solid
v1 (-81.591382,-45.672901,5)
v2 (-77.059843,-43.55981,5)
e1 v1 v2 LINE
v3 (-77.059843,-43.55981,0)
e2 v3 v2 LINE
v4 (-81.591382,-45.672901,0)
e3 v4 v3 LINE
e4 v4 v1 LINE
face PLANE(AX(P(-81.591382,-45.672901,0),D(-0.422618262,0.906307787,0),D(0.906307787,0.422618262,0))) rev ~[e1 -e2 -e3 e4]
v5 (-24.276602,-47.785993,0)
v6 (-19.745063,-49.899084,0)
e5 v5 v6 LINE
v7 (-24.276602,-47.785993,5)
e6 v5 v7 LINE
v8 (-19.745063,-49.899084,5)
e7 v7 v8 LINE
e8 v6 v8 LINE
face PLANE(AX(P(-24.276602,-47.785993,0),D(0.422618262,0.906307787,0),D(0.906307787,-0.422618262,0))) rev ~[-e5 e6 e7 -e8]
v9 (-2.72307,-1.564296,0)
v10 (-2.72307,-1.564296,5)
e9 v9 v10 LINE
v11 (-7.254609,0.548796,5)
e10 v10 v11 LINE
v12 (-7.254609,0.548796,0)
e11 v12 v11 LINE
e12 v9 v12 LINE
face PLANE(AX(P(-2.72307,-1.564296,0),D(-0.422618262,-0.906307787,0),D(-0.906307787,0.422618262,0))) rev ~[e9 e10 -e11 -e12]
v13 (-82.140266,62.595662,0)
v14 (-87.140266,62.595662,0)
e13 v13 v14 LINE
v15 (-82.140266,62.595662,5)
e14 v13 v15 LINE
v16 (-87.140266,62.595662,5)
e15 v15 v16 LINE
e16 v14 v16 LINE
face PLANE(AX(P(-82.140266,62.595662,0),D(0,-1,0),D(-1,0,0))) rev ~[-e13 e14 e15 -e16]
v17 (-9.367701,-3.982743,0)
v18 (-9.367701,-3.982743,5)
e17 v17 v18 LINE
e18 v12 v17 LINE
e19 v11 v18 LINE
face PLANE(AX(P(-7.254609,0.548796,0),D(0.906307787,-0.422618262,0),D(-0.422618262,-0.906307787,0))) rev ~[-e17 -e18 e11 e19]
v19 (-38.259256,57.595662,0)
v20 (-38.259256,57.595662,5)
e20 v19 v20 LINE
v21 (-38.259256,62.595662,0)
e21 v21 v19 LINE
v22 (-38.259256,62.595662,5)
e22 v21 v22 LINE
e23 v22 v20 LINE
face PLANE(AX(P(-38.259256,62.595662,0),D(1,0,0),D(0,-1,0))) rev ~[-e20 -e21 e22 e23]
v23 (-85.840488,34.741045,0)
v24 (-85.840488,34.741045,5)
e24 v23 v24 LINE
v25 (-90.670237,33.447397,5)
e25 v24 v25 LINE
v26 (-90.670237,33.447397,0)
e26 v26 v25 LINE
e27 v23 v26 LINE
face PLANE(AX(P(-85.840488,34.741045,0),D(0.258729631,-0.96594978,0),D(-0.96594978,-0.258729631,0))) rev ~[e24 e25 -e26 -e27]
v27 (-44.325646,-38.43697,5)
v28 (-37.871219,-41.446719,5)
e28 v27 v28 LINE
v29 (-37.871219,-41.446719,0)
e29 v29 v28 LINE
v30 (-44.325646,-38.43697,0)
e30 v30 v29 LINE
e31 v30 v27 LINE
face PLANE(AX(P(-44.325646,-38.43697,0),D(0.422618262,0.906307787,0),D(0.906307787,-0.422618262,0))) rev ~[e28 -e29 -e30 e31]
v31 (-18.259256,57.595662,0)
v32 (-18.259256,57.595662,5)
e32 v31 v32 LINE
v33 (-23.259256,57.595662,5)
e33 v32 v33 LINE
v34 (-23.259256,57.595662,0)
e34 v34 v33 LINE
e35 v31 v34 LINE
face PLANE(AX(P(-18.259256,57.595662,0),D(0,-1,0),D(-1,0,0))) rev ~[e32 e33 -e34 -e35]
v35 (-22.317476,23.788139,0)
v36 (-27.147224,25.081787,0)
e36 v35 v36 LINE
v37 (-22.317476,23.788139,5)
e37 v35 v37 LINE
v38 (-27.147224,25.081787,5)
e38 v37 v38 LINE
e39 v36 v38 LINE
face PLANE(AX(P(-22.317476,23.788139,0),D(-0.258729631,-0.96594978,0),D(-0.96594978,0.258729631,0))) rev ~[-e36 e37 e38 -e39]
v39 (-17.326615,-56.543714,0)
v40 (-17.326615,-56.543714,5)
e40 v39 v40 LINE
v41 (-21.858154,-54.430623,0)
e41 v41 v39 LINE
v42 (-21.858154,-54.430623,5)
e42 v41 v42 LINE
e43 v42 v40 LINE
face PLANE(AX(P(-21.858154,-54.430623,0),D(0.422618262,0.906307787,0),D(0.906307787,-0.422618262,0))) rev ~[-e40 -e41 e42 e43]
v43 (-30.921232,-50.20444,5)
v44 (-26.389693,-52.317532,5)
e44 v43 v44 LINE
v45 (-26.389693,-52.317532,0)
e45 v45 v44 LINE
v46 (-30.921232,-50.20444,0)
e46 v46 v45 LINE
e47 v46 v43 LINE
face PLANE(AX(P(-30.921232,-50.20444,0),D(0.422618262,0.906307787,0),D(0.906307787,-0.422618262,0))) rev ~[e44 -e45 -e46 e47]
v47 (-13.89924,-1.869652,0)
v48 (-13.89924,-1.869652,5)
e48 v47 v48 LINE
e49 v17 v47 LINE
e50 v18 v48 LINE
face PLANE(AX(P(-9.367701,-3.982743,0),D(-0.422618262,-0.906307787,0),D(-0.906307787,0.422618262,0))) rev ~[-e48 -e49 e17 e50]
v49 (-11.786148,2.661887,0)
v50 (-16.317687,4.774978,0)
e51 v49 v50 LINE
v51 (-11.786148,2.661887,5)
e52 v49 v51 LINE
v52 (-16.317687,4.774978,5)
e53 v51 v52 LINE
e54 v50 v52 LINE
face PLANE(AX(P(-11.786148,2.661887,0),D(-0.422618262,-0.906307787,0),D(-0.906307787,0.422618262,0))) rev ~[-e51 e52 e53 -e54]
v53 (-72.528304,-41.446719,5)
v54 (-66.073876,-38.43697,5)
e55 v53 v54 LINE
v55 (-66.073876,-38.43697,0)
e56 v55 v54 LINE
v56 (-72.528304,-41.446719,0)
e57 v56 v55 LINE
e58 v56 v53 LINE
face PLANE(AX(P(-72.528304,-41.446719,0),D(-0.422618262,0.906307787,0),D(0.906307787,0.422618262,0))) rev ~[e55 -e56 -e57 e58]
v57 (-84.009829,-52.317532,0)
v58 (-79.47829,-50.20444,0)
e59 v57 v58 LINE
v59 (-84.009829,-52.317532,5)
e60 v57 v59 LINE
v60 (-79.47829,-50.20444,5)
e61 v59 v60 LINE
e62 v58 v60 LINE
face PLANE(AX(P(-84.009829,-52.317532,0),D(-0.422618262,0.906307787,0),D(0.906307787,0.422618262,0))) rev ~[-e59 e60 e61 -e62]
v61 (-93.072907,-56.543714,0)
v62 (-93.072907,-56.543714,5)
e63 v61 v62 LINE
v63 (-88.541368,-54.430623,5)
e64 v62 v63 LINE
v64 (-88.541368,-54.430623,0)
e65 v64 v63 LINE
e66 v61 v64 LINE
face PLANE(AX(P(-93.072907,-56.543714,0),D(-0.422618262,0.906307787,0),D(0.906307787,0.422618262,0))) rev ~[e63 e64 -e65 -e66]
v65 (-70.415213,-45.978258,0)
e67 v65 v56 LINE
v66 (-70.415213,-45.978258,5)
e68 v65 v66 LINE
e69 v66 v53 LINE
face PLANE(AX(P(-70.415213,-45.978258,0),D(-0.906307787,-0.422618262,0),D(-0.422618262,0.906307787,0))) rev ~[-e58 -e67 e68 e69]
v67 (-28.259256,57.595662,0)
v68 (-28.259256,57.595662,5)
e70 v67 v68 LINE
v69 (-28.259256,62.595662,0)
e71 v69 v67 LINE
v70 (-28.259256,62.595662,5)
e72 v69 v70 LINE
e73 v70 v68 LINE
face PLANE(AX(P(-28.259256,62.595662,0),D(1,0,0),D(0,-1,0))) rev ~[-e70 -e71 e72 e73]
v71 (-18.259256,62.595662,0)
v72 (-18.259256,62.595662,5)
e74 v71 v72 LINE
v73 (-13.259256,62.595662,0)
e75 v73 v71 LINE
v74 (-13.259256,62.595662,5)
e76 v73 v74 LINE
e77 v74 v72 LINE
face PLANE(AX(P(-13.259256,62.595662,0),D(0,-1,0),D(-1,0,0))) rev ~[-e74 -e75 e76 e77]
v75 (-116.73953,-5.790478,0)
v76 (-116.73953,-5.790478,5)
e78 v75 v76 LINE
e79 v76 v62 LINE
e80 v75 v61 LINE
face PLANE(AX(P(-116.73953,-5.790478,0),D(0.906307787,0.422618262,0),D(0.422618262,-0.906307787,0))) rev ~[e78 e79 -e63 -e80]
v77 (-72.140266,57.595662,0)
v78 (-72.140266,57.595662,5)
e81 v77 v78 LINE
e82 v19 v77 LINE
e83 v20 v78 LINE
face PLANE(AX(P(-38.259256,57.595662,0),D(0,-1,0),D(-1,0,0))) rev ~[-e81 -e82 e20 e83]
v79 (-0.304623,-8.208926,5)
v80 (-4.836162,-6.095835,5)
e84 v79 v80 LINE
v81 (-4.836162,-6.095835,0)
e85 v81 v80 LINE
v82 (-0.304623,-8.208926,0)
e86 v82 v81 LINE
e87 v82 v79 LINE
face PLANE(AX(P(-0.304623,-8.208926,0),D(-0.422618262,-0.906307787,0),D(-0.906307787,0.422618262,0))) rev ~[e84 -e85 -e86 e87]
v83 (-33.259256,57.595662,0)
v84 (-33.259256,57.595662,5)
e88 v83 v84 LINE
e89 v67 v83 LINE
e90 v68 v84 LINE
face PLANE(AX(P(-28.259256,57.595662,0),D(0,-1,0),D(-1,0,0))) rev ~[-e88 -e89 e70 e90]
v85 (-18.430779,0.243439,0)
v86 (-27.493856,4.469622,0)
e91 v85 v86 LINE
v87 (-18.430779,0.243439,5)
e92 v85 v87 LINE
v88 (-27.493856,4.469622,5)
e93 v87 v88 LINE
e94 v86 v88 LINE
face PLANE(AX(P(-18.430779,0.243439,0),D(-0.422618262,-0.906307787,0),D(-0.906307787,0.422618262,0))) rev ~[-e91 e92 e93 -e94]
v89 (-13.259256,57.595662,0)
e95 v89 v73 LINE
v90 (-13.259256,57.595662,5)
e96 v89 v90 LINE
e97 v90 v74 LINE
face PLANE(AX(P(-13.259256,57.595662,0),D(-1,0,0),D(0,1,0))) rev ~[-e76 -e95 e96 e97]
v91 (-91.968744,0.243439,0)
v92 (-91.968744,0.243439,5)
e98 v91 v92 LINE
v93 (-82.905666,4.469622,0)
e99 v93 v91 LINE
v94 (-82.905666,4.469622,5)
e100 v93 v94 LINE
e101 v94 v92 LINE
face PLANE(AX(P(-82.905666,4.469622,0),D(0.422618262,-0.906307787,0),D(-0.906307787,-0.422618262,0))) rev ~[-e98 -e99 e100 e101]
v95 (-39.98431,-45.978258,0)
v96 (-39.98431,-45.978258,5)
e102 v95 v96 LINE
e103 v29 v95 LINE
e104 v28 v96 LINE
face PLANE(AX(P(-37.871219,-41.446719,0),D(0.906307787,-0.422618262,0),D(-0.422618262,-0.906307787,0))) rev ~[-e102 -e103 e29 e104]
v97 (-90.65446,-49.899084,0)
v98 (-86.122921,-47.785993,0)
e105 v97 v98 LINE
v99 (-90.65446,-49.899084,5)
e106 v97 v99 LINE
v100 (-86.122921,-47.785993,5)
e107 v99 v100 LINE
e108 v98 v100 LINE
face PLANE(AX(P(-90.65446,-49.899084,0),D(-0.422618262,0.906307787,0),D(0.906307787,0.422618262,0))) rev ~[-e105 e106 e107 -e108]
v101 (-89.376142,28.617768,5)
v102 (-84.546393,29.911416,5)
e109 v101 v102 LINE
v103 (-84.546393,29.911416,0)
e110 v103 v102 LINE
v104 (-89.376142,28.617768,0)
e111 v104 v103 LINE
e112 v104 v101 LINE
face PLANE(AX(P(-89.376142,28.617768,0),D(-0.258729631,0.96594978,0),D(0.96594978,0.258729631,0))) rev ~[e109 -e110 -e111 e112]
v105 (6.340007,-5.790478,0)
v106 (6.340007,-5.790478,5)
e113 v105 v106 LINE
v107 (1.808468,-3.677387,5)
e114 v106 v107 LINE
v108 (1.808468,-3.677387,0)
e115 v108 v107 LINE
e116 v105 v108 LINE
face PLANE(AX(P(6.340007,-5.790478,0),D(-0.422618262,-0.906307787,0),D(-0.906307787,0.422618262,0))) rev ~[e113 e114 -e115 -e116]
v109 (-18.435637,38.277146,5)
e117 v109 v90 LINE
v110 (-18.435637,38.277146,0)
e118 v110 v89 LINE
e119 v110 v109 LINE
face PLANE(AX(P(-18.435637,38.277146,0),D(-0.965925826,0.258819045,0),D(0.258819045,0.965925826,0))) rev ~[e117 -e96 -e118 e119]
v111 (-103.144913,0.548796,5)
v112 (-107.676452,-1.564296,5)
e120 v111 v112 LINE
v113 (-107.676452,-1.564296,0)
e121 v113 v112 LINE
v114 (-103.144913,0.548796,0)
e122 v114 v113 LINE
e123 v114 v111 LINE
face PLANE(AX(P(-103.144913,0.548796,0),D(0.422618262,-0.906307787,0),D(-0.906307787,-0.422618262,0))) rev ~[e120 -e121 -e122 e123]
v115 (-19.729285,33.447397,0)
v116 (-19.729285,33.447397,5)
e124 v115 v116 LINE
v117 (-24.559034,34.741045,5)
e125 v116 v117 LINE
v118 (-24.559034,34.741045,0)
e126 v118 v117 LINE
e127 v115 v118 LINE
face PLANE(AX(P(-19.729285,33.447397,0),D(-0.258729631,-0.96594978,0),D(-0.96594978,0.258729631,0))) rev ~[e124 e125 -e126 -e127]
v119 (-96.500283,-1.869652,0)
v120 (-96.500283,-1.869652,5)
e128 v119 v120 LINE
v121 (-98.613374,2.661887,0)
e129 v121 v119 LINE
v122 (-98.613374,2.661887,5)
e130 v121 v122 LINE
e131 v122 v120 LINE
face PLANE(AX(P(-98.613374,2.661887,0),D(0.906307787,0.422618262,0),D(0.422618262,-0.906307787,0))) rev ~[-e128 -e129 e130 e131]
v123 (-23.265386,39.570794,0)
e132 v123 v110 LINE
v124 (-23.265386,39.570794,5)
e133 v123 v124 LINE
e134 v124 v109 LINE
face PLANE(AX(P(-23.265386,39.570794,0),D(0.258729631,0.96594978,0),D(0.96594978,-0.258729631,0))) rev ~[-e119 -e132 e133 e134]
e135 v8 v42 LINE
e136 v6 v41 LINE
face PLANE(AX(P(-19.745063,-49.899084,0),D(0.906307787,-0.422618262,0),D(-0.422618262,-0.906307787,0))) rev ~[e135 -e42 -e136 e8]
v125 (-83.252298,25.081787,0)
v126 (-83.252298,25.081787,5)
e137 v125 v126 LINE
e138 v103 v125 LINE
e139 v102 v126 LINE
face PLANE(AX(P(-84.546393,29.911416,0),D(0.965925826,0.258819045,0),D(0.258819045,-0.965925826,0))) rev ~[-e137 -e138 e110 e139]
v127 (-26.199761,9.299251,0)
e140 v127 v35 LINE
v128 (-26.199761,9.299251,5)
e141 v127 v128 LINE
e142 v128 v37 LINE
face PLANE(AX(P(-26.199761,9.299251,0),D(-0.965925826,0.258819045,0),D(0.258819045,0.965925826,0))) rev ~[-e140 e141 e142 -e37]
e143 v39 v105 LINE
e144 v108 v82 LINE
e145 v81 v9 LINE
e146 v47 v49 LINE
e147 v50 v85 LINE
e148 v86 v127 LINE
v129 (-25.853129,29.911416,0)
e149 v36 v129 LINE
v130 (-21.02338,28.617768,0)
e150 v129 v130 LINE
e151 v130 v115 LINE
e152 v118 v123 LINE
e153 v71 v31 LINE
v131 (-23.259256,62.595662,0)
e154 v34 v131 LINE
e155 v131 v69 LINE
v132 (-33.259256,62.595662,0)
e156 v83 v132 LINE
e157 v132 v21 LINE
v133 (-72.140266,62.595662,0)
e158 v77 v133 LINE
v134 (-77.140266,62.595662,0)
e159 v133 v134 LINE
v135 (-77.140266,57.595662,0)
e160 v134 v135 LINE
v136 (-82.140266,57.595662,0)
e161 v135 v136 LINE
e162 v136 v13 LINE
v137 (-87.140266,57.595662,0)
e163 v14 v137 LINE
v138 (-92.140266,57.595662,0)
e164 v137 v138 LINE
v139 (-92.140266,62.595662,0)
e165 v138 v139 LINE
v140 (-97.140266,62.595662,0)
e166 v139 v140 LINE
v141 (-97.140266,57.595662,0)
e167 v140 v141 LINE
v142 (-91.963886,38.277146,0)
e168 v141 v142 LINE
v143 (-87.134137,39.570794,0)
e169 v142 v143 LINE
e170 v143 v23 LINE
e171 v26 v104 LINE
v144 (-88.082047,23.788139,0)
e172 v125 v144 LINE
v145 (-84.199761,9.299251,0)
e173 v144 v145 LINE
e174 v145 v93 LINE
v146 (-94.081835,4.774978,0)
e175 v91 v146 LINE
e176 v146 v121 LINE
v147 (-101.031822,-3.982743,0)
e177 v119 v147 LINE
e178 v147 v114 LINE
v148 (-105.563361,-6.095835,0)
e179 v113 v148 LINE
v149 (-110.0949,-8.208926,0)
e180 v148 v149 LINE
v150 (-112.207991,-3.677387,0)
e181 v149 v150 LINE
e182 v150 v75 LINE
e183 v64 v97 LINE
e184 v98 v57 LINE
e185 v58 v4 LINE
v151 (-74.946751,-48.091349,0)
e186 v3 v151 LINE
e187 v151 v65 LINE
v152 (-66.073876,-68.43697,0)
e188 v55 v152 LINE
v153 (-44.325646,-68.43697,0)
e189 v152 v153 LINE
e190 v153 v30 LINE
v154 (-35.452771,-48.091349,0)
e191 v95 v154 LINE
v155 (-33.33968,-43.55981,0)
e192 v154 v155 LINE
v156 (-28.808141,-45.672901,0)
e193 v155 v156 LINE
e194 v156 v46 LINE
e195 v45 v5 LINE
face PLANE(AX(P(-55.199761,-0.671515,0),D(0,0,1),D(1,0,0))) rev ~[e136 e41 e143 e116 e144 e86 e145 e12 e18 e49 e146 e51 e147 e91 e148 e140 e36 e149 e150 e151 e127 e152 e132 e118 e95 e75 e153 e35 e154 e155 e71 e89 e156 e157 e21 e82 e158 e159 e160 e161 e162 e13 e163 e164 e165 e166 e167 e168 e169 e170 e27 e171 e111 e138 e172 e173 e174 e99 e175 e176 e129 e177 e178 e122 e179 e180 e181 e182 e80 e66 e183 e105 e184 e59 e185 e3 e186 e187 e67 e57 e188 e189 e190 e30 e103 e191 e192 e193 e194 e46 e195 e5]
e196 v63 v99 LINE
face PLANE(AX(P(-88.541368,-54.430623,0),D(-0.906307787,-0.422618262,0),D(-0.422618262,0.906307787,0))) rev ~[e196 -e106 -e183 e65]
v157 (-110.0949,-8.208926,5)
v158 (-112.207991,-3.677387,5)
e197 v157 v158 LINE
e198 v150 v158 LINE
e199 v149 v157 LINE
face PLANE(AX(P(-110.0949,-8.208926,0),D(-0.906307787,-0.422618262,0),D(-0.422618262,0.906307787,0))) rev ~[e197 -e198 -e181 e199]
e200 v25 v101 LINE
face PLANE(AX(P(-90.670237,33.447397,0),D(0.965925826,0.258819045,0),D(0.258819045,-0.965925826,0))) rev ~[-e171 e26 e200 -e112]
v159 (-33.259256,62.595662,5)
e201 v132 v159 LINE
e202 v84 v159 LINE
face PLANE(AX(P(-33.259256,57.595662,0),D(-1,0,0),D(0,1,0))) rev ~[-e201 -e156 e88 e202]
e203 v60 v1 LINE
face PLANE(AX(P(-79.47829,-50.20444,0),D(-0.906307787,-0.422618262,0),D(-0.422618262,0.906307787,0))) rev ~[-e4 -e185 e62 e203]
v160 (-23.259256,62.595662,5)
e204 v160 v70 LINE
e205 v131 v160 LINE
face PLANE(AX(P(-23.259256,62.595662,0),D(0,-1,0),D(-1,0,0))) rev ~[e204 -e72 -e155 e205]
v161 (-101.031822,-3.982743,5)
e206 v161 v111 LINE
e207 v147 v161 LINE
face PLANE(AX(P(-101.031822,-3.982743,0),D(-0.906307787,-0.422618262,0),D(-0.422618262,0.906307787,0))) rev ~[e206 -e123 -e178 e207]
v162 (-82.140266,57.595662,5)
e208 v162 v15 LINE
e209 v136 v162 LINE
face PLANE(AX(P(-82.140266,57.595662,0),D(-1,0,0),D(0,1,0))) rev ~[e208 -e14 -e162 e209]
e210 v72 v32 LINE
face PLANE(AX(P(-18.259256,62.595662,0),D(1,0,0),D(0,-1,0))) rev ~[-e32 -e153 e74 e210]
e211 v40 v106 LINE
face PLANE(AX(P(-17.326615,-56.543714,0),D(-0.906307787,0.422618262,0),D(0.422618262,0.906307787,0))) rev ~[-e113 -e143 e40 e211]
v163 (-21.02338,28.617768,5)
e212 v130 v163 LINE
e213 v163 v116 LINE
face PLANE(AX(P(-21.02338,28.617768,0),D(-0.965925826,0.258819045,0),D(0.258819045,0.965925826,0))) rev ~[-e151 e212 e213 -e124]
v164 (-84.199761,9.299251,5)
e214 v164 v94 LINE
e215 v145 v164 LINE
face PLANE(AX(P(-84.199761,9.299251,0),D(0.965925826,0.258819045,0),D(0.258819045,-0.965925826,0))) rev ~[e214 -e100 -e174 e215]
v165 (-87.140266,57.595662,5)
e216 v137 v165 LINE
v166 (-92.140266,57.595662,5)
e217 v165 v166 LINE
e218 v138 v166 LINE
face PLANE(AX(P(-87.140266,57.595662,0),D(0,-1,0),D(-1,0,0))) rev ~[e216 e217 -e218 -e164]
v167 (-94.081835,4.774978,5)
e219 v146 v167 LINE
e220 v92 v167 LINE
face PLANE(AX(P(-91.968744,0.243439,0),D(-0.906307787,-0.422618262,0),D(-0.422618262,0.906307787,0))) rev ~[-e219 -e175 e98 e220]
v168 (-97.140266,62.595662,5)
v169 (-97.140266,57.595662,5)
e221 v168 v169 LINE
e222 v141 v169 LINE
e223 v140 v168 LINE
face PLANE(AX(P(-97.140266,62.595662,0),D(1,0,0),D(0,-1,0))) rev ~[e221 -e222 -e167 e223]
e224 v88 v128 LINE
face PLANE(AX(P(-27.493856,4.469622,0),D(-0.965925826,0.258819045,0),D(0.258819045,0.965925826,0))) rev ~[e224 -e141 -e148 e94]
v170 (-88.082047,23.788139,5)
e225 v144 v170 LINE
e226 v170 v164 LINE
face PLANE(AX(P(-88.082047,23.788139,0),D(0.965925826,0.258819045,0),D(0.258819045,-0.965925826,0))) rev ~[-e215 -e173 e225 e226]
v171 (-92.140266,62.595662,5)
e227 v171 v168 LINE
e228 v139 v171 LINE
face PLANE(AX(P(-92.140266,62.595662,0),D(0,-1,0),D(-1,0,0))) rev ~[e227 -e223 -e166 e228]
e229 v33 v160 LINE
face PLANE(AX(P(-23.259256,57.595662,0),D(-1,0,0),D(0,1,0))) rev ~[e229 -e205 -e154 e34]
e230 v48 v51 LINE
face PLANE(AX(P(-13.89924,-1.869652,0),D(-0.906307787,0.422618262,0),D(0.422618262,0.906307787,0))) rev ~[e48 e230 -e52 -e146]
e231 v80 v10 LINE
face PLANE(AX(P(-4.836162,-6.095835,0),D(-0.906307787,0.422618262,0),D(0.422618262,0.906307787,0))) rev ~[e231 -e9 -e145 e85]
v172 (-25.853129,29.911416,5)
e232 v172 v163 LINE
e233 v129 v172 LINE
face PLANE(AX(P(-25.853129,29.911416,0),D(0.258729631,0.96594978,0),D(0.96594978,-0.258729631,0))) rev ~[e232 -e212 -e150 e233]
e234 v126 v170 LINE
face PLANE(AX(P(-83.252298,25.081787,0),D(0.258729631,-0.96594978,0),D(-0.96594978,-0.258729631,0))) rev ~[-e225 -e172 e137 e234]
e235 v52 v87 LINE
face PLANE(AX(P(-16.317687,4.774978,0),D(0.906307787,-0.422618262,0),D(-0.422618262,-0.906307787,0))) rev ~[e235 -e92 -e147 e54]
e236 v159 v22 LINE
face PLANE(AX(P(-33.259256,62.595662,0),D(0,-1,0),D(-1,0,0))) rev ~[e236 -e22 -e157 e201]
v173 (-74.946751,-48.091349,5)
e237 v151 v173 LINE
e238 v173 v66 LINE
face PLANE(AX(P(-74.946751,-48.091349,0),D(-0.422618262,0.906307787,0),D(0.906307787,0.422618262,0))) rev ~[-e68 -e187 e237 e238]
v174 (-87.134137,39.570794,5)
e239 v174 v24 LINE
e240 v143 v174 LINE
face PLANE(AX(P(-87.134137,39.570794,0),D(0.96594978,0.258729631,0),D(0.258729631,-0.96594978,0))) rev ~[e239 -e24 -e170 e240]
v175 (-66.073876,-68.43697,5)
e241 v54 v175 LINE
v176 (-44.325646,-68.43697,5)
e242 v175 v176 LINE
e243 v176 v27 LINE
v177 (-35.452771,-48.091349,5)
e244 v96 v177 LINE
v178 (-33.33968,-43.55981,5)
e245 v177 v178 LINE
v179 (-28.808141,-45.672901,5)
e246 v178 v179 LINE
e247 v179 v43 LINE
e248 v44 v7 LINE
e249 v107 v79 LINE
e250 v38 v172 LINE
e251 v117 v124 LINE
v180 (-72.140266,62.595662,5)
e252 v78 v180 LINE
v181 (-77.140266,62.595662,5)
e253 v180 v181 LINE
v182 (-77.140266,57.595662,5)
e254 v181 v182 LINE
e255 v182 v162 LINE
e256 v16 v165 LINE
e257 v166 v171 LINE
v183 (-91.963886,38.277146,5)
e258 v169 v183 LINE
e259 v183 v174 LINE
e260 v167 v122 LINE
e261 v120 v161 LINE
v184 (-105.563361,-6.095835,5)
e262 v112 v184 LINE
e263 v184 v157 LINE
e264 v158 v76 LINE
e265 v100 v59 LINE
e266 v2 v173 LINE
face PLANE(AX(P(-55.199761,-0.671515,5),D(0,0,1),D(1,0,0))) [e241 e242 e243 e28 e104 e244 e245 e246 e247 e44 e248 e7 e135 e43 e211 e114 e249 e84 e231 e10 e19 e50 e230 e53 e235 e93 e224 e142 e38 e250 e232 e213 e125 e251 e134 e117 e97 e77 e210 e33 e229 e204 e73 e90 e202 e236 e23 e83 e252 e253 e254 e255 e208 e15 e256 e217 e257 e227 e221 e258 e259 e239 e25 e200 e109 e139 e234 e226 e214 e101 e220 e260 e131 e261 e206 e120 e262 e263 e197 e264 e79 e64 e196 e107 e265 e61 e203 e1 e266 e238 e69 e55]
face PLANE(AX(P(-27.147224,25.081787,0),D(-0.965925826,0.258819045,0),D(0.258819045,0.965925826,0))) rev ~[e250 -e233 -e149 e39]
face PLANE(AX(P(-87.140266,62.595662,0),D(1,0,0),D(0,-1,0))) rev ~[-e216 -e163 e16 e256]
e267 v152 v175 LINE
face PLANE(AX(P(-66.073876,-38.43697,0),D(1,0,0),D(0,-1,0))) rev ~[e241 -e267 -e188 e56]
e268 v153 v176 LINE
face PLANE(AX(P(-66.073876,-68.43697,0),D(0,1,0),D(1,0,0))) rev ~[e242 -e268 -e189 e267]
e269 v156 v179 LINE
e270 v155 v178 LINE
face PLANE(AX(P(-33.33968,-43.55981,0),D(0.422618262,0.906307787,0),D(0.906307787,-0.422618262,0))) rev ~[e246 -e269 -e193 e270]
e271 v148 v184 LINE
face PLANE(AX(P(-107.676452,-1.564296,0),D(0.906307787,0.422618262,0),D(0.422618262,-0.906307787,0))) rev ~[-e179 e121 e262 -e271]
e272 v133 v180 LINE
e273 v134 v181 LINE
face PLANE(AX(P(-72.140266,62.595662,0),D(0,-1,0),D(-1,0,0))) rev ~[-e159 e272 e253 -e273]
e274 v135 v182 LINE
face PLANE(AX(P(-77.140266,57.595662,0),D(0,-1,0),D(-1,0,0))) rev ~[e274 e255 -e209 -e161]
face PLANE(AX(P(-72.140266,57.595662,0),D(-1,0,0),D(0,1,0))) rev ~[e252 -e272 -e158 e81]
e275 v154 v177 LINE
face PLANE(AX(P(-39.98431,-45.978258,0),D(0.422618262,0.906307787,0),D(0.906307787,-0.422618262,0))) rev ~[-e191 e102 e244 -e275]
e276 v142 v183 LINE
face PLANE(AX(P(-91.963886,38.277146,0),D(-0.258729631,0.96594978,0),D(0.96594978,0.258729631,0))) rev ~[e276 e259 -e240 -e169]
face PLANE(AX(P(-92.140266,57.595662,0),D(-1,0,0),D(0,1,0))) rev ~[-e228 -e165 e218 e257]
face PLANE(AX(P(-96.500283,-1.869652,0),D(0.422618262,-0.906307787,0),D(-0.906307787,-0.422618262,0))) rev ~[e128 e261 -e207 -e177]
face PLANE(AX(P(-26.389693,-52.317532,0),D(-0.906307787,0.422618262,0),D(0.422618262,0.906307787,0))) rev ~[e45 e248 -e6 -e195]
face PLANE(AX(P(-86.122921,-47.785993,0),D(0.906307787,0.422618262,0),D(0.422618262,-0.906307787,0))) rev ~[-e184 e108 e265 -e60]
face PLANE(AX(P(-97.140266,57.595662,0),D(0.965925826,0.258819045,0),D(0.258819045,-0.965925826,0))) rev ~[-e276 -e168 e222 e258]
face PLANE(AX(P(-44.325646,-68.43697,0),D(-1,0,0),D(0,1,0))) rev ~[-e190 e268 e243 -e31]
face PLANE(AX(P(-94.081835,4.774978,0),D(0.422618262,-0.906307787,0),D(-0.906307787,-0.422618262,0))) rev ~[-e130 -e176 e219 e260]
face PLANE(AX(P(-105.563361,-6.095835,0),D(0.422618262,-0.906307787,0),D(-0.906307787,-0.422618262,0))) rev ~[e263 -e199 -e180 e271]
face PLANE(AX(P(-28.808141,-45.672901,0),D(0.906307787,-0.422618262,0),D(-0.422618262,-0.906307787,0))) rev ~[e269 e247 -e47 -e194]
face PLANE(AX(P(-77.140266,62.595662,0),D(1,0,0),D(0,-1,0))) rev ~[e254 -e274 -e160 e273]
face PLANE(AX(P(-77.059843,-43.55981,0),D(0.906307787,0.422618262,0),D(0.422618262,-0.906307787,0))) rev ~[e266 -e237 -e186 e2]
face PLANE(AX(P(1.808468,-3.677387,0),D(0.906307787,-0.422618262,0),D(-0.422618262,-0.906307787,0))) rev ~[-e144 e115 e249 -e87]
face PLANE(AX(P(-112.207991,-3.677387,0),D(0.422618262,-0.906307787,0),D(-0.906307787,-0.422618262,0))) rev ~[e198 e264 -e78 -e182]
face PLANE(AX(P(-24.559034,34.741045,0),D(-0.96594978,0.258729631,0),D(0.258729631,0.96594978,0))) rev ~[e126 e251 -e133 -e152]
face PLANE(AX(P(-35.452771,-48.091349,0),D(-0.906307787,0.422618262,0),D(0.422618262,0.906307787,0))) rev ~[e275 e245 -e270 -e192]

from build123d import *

# Parameters (mm, degrees)
BOSS_EXTRU_1_DEPTH = 5


with BuildPart() as part:
    # Esquisse1 → Boss.-Extru.1 (new body)
    with BuildSketch(Plane.XY):
        Polygon((-88.082046911, 23.788138558), (-84.199761229, 9.299251145), (-82.905666004, 4.469622013), (-91.968743874, 0.243439396), (-94.081835183, 4.774978331), (-98.613374118, 2.661887022), (-96.500282809, -1.869651913), (-101.031821745, -3.982743221), (-103.144913053, 0.548795714), (-107.676451989, -1.564295595), (-105.56336068, -6.09583453), (-110.094899615, -8.208925839), (-112.207990924, -3.677386904), (-116.739529859, -5.790478212), (-93.072907201, -56.543714286), (-88.541368266, -54.430622978), (-90.654459575, -49.899084043), (-86.12292064, -47.785992734), (-84.009829331, -52.317531669), (-79.478290396, -50.20444036), (-81.591381705, -45.672901425), (-77.059842769, -43.559810116), (-74.946751461, -48.091349052), (-70.415212525, -45.978257743), (-72.528303834, -41.446718808), (-66.073876495, -38.43696991), (-66.073876495, -68.43696991), (-44.325645964, -68.43696991), (-44.325645964, -38.43696991), (-37.871218625, -41.446718808), (-39.984309933, -45.978257743), (-35.452770998, -48.091349052), (-33.339679689, -43.559810116), (-28.808140754, -45.672901425), (-30.921232063, -50.20444036), (-26.389693128, -52.317531669), (-24.276601819, -47.785992734), (-19.745062884, -49.899084043), (-21.858154193, -54.430622978), (-17.326615257, -56.543714286), (6.3400074, -5.790478212), (1.808468465, -3.677386904), (-0.304622844, -8.208925839), (-4.836161779, -6.09583453), (-2.72307047, -1.564295595), (-7.254609405, 0.548795714), (-9.367700714, -3.982743221), (-13.899239649, -1.869651913), (-11.786148341, 2.661887022), (-16.317687276, 4.774978331), (-18.430778585, 0.243439396), (-27.493856455, 4.469622013), (-26.199761229, 9.299251145), (-22.317475548, 23.788138558), (-27.147224449, 25.081786714), (-25.853129223, 29.911415845), (-21.023380322, 28.617767689), (-19.729285097, 33.447396821), (-24.559033998, 34.741044977), (-23.265385842, 39.570793878), (-18.435636941, 38.277145722), (-13.259256039, 57.595662248), (-13.259256039, 62.595662248), (-18.259256039, 62.595662248), (-18.259256039, 57.595662248), (-23.259256039, 57.595662248), (-23.259256039, 62.595662248), (-28.259256039, 62.595662248), (-28.259256039, 57.595662248), (-33.259256039, 57.595662248), (-33.259256039, 62.595662248), (-38.259256039, 62.595662248), (-38.259256039, 57.595662248), (-72.14026642, 57.595662248), (-72.14026642, 62.595662248), (-77.14026642, 62.595662248), (-77.14026642, 57.595662248), (-82.14026642, 57.595662248), (-82.14026642, 62.595662248), (-87.14026642, 62.595662248), (-87.14026642, 57.595662248), (-92.14026642, 57.595662248), (-92.14026642, 62.595662248), (-97.14026642, 62.595662248), (-97.14026642, 57.595662248), (-91.963885518, 38.277145722), (-87.134136617, 39.570793878), (-85.840488461, 34.741044977), (-90.670237362, 33.447396821), (-89.376142136, 28.617767689), (-84.546393235, 29.911415845), (-83.25229801, 25.081786714), align=None)
    extrude(amount=BOSS_EXTRU_1_DEPTH)


solid = part.part
